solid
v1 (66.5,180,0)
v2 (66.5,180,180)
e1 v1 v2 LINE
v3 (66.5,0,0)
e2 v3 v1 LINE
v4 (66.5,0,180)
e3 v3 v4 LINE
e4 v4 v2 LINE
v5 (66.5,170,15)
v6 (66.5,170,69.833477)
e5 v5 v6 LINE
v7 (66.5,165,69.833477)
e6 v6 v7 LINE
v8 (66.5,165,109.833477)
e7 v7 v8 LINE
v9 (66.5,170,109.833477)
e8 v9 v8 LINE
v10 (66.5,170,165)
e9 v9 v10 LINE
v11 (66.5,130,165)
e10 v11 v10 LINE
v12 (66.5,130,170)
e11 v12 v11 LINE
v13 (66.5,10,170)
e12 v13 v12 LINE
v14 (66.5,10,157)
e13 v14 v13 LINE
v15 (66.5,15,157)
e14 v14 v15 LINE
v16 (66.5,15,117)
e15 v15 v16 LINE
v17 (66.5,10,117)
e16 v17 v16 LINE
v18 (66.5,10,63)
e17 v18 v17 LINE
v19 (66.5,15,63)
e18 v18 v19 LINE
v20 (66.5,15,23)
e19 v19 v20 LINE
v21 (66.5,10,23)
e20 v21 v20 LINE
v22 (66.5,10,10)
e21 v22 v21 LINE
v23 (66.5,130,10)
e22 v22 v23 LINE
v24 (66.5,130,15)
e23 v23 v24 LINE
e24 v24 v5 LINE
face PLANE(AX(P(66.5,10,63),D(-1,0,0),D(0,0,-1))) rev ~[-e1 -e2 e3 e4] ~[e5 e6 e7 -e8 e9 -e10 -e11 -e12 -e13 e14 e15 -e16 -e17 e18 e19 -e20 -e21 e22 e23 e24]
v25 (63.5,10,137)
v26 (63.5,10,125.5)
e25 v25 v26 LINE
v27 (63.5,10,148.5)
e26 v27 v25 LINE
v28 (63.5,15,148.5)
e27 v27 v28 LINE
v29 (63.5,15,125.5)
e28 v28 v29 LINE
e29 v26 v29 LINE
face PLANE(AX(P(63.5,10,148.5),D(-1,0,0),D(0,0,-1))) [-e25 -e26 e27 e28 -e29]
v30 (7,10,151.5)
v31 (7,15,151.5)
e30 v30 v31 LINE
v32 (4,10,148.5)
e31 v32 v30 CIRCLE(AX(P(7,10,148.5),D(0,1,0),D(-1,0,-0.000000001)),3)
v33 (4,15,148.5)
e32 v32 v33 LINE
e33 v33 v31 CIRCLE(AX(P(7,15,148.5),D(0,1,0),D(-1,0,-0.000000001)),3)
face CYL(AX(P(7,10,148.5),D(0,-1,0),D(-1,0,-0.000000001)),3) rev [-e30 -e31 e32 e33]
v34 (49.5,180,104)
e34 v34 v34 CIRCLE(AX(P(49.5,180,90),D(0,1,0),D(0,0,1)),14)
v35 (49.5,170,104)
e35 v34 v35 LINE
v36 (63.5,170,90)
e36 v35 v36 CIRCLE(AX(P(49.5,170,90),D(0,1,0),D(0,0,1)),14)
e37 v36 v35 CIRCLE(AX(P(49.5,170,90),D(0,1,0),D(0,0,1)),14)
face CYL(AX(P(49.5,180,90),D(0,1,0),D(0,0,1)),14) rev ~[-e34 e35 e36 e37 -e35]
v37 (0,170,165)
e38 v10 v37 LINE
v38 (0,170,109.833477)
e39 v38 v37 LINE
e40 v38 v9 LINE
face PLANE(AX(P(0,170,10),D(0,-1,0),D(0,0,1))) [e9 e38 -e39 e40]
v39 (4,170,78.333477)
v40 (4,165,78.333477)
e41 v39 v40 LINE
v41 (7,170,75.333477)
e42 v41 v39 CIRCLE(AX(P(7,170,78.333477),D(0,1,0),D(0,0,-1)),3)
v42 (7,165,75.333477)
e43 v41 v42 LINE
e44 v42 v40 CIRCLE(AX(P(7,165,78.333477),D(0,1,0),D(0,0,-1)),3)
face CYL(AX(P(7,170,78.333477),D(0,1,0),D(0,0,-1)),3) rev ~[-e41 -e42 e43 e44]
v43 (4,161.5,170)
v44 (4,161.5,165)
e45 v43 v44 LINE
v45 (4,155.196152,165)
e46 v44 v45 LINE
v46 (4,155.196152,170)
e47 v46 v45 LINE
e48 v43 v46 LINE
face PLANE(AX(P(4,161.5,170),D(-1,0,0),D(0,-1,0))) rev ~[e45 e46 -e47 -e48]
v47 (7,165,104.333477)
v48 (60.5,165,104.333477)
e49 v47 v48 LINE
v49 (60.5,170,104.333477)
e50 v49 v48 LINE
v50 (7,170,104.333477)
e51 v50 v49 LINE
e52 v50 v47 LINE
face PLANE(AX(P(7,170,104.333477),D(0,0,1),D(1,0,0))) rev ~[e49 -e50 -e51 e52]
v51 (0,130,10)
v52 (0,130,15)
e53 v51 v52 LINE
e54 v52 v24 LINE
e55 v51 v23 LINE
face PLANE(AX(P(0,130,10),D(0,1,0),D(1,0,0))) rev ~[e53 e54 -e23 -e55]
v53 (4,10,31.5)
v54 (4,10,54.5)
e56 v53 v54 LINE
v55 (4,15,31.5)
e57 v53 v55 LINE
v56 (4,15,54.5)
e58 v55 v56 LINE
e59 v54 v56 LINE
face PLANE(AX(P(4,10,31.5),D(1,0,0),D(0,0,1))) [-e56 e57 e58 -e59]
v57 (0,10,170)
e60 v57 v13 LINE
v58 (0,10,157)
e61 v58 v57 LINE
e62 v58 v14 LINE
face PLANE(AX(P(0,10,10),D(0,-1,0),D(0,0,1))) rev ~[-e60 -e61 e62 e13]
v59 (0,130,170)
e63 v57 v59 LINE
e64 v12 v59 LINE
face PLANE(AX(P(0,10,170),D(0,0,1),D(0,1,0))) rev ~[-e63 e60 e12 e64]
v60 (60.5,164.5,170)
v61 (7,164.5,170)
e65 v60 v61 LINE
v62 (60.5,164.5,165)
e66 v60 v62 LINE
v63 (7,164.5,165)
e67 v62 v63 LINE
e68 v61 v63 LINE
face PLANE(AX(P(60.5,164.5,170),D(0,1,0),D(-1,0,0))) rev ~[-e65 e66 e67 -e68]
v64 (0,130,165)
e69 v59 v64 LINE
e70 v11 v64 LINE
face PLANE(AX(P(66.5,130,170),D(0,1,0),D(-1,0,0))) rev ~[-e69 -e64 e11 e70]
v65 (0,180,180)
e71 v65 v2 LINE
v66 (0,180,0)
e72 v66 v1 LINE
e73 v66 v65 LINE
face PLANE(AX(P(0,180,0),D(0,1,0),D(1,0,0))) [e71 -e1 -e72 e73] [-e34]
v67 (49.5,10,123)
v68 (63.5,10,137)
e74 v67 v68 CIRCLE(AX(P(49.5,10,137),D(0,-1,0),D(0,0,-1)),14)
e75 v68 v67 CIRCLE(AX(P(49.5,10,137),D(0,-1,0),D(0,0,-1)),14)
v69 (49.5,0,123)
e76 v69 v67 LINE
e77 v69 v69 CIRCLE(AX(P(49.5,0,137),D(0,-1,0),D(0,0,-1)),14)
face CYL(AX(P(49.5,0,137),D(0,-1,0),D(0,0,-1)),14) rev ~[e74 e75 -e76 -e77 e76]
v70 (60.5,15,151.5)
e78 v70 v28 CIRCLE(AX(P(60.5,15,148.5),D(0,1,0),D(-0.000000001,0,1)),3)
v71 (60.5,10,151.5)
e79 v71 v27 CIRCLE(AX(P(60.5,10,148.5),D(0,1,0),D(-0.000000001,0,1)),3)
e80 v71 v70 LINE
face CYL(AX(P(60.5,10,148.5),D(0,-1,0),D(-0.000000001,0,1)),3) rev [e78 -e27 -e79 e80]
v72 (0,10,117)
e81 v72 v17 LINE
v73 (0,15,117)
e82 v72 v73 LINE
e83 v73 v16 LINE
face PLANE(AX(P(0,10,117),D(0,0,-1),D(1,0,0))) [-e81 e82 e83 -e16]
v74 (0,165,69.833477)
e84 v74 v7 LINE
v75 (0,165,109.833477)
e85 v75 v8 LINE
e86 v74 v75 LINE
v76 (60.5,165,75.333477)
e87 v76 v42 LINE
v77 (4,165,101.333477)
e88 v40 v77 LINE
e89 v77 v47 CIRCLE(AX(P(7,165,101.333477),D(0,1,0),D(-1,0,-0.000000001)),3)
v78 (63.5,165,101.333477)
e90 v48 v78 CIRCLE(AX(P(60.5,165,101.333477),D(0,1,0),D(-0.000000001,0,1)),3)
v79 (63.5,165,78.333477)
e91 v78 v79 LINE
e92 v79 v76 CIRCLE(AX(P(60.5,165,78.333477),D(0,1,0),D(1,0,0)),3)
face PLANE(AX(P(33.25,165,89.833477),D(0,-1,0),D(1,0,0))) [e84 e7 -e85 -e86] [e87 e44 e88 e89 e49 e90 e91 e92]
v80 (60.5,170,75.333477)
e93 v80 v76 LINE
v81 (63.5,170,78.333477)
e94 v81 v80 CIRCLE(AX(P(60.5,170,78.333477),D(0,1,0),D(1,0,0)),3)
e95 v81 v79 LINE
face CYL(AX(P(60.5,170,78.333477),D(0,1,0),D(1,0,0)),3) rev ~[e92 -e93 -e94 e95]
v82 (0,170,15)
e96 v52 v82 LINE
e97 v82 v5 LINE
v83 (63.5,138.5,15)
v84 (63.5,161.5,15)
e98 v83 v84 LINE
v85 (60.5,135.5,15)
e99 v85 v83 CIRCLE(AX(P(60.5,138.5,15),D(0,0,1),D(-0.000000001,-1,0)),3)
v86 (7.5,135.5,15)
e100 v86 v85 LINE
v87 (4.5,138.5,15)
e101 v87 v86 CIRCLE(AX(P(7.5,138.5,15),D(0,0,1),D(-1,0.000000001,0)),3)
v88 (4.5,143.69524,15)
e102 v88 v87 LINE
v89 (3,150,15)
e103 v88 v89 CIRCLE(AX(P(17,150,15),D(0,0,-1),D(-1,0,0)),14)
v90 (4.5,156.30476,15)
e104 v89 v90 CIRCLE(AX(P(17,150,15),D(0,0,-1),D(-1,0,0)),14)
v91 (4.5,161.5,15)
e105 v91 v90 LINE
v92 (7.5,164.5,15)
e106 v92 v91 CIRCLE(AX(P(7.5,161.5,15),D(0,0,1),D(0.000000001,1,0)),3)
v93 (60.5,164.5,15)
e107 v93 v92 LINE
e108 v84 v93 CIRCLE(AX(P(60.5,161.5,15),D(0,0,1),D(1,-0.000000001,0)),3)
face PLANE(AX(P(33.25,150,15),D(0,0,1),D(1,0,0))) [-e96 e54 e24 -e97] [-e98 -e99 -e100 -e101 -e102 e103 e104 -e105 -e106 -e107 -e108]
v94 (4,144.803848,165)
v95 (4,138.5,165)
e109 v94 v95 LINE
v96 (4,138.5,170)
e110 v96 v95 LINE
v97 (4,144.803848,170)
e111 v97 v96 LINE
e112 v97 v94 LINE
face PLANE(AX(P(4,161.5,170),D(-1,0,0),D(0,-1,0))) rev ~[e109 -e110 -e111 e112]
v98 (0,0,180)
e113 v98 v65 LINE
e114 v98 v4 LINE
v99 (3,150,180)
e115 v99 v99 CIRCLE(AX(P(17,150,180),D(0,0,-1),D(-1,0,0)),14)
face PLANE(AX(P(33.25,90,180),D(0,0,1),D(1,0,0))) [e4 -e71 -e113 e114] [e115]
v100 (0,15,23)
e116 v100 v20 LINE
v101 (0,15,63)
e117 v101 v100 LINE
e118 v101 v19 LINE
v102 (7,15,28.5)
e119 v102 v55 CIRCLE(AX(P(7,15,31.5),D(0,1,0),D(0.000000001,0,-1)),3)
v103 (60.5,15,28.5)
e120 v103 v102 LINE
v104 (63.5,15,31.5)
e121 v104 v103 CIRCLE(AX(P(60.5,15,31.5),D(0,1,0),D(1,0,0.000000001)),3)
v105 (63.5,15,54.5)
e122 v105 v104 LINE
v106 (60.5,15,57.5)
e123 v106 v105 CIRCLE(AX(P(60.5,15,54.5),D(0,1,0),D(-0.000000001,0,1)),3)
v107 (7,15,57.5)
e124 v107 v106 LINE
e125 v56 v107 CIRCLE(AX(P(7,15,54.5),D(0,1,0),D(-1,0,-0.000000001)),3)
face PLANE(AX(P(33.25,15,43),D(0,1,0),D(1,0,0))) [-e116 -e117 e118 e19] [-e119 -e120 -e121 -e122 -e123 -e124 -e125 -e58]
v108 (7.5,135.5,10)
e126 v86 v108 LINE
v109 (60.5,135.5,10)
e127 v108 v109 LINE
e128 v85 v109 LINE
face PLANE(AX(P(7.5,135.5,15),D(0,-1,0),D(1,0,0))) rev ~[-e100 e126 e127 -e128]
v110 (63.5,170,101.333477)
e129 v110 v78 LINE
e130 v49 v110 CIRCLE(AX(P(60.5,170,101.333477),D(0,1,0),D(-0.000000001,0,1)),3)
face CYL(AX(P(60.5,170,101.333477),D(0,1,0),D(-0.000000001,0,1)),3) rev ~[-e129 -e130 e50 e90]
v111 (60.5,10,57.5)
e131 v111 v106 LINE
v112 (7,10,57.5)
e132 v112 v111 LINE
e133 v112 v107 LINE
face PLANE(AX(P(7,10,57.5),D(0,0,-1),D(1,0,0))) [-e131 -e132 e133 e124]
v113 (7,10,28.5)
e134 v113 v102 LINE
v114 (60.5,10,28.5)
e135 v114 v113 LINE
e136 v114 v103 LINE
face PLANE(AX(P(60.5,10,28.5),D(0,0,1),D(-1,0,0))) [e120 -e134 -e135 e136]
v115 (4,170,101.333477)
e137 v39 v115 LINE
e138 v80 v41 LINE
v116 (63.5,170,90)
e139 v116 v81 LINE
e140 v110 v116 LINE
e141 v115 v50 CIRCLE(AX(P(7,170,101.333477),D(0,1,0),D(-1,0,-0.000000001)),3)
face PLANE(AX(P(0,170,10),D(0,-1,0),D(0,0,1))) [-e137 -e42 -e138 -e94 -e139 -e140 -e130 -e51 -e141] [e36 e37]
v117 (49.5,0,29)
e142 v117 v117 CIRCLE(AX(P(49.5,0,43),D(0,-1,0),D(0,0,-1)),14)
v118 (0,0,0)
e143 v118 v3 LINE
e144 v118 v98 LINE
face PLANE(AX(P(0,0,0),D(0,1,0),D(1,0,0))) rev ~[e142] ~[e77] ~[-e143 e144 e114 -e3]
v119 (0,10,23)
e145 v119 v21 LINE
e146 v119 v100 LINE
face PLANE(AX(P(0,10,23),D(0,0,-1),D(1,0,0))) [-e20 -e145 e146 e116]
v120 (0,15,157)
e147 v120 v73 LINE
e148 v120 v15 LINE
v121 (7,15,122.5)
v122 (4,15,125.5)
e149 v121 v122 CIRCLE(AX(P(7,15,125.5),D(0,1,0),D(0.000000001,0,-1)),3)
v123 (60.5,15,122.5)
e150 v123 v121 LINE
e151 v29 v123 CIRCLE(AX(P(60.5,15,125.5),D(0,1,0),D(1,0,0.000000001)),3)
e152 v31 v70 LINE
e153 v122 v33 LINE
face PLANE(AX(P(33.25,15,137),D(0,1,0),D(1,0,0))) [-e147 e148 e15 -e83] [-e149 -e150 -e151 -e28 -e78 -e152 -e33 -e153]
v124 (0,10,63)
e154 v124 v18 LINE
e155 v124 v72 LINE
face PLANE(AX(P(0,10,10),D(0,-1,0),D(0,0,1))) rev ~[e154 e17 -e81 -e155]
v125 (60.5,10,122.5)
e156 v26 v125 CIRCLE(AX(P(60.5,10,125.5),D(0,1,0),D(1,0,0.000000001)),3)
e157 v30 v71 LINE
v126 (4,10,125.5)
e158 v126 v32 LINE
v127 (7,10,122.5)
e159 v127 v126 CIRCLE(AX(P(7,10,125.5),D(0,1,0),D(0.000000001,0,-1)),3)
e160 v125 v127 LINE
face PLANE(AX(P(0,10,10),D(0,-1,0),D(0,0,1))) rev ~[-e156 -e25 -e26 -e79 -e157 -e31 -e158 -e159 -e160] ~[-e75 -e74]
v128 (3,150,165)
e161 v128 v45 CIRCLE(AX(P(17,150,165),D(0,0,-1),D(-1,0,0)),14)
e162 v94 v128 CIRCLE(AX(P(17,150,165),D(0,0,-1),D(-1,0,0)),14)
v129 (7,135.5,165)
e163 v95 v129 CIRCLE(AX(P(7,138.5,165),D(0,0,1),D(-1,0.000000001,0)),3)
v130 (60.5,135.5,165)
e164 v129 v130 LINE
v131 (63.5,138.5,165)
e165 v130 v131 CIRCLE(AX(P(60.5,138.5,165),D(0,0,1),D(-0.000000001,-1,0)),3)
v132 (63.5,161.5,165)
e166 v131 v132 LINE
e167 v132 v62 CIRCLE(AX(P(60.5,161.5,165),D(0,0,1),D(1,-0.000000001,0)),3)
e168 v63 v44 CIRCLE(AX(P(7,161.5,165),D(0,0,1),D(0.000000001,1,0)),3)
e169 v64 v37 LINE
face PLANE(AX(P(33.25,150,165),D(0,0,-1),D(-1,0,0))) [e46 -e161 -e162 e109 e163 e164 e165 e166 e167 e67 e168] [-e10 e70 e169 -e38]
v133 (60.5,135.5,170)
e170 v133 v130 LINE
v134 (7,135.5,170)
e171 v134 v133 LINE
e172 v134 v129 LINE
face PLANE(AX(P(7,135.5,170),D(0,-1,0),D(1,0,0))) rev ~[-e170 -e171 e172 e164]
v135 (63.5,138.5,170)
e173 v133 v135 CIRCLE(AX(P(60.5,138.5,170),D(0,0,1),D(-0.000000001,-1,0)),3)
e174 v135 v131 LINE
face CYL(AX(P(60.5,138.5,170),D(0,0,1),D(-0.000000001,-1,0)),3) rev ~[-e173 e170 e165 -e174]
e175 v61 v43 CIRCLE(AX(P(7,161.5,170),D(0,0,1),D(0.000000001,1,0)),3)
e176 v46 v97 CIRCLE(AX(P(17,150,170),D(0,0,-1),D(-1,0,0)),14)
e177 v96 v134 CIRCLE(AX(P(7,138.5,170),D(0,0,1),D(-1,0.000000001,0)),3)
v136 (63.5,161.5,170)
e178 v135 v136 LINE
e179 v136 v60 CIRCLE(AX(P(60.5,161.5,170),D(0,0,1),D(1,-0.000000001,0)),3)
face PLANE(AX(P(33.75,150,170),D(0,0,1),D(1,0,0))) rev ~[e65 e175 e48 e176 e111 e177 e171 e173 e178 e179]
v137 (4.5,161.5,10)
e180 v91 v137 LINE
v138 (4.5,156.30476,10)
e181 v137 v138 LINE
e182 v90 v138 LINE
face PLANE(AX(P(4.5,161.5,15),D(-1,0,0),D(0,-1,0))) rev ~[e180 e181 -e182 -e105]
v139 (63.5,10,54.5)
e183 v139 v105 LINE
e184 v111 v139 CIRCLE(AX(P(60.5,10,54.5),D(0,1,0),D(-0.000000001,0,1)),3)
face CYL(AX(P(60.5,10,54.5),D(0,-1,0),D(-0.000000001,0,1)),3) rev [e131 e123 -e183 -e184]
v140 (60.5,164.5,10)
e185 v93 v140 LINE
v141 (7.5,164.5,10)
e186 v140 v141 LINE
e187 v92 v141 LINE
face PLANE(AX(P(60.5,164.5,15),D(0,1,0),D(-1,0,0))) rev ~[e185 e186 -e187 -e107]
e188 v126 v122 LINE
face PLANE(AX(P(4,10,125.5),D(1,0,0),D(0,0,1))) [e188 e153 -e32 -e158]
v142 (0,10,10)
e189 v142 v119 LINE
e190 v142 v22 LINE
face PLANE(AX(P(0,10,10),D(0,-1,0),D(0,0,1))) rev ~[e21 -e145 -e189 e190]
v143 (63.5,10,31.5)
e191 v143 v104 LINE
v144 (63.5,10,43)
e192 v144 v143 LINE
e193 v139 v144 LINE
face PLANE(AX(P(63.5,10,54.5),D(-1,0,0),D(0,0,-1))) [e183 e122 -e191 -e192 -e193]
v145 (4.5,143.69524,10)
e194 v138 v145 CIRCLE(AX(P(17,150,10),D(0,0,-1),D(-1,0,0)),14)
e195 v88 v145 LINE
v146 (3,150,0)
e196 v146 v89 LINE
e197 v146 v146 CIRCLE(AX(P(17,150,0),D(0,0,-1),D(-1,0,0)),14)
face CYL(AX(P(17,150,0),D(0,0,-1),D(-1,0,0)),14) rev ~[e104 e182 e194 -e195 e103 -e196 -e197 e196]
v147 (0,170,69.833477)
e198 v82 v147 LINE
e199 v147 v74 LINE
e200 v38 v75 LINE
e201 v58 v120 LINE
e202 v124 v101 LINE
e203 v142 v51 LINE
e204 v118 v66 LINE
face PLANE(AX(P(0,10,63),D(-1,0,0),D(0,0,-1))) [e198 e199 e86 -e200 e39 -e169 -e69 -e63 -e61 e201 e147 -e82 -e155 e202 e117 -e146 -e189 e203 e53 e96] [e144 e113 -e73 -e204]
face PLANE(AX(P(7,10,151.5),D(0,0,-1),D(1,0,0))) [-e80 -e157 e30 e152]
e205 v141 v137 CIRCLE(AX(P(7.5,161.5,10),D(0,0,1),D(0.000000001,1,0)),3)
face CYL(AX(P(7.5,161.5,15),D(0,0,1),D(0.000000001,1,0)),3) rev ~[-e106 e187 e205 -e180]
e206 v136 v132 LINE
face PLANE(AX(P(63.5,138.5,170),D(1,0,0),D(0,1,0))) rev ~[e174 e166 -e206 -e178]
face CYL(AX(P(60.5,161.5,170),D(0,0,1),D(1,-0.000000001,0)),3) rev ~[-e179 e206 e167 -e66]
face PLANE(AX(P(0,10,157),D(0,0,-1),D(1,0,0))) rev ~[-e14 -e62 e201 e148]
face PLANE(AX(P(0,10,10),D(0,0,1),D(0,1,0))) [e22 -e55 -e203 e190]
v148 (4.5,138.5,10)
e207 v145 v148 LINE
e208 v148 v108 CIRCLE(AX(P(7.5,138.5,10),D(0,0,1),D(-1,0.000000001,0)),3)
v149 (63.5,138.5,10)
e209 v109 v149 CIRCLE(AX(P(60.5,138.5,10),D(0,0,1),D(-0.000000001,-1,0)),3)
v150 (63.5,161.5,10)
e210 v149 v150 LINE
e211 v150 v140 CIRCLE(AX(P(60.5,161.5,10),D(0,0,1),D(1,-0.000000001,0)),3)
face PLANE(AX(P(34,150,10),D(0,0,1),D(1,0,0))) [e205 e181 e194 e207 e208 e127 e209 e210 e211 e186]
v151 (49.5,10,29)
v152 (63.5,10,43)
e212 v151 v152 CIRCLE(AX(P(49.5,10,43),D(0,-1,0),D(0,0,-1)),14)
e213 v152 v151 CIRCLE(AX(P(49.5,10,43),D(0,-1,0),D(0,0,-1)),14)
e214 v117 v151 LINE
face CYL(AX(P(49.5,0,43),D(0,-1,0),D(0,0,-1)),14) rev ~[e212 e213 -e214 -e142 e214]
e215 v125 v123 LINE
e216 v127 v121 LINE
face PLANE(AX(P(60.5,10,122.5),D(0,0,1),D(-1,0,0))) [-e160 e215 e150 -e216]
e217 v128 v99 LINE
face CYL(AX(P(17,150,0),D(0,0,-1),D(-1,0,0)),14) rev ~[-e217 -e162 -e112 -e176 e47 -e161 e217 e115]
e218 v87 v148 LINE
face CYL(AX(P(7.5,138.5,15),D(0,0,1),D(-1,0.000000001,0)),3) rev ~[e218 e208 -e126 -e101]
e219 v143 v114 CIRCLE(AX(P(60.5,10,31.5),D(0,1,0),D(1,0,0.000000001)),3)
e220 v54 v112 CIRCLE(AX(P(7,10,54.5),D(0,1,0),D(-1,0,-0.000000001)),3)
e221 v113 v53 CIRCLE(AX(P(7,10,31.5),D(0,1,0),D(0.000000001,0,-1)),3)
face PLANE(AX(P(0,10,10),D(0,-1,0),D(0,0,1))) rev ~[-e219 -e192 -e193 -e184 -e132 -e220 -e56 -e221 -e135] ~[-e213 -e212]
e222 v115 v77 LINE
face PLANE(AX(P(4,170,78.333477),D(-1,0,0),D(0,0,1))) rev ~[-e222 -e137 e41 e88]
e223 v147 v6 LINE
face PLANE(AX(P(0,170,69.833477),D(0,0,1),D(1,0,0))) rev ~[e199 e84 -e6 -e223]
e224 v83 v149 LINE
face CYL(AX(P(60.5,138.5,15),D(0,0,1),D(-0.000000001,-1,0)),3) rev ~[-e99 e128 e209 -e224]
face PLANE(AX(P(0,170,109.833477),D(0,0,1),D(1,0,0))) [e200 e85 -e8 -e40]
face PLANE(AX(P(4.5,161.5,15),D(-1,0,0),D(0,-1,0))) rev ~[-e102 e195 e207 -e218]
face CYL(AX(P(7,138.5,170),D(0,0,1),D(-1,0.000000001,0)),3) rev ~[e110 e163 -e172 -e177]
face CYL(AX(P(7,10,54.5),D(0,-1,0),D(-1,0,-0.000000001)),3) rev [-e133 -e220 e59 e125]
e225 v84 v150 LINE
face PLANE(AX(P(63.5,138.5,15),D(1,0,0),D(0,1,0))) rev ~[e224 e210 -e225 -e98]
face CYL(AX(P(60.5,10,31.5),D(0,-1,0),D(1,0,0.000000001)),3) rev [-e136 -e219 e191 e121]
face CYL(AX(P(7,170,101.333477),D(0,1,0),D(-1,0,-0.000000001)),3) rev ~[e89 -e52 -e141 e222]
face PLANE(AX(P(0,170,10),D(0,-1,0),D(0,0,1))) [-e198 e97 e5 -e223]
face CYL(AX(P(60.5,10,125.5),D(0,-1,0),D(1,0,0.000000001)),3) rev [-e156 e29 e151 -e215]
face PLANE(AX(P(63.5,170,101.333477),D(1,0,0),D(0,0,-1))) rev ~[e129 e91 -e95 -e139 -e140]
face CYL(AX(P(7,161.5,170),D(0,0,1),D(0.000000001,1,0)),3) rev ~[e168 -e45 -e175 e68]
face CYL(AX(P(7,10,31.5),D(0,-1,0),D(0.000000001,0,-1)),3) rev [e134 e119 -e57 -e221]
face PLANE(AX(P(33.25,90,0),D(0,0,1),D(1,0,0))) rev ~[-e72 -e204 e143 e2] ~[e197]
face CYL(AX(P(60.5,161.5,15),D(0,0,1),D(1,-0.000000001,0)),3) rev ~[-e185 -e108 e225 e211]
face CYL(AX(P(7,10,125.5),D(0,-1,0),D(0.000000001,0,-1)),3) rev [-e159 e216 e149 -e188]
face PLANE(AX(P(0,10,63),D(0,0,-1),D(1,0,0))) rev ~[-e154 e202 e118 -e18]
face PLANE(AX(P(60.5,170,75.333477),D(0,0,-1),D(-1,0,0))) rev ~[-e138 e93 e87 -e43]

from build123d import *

# Parameters (mm, degrees)
SKETCH1_W                = 66.5
SKETCH1_H                = 180
BOSS_EXTRUDE1_DEPTH      = 180
SKETCH3_W                = 160
SKETCH3_H                = 160
CUT_EXTRUDE1_DEPTH       = 180
SKETCH8_W                = 66.5
SKETCH8_H                = 40
BOSS_EXTRUDE2_DEPTH      = 5
SKETCH10_W               = 66.5
SKETCH10_H               = 40
BOSS_EXTRUDE3_DEPTH      = 5
SKETCH5_R                = 14
CUT_EXTRUDE3_DEPTH       = 10
CUT_EXTRUDE5_DEPTH       = 5
CUT_EXTRUDE6_START       = -5
CUT_EXTRUDE6_DEPTH       = 5
SKETCH12_W               = 66.5
SKETCH12_H               = 40
BOSS_EXTRUDE8_DEPTH      = 5
SKETCH15_R               = 14
CUT_EXTRUDE7_DEPTH       = 200
SKETCH7_R                = 14
CORTE_EXTRUS_O1_DEPTH    = 10
SKETCH13_W               = 66.5
SKETCH13_H               = 40
RESSALTO_EXTRUS_O1_DEPTH = 5


with BuildPart() as part:
    # Sketch1 → Boss-Extrude1 (new body)
    with BuildSketch(Plane.XY):
        with Locations((33.25, 90)):
            Rectangle(SKETCH1_W, SKETCH1_H)
    extrude(amount=BOSS_EXTRUDE1_DEPTH)

    # Sketch3 → Cut-Extrude1 (cut)
    with BuildSketch(Plane.ZY):
        with Locations((90, 90)):
            Rectangle(SKETCH3_W, SKETCH3_H)
    extrude(amount=-CUT_EXTRUDE1_DEPTH, mode=Mode.SUBTRACT)

    # Sketch8 → Boss-Extrude2 (add)
    with BuildSketch(Plane.XY.offset(10)):
        with Locations((33.25, 150)):
            Rectangle(SKETCH8_W, SKETCH8_H)
    extrude(amount=BOSS_EXTRUDE2_DEPTH)

    # Sketch10 → Boss-Extrude3 (add)
    with BuildSketch(Plane(origin=(0, 0, 170), x_dir=(-1, 0, 0), z_dir=(0, 0, -1))):
        with Locations((-33.25, 150)):
            Rectangle(SKETCH10_W, SKETCH10_H)
    extrude(amount=BOSS_EXTRUDE3_DEPTH)

    # Sketch5 → Cut-Extrude3 (cut)
    with BuildSketch(Plane(origin=(0, 180, 0), x_dir=(1, 0, 0), z_dir=(0, 1, 0))):
        with Locations(Location((49.5, -90, 0), (0, 0, 270))):
            Circle(SKETCH5_R)
    extrude(amount=-CUT_EXTRUDE3_DEPTH, mode=Mode.SUBTRACT)

    # Sketch9 → Cut-Extrude5 (cut)
    with BuildSketch(Plane.XY.offset(15)):
        with BuildLine():
            Line((60.5, 164.5), (7.5, 164.5))
            ThreePointArc((7.5, 164.5), (5.378679656, 163.621320344), (4.5, 161.5))
            Line((4.5, 161.5), (4.5, 138.5))
            ThreePointArc((4.5, 138.5), (5.378679656, 136.378679656), (7.5, 135.5))
            Line((7.5, 135.5), (60.5, 135.5))
            ThreePointArc((60.5, 135.5), (62.621320344, 136.378679656), (63.5, 138.5))
            Line((63.5, 138.5), (63.5, 161.5))
            ThreePointArc((63.5, 161.5), (62.621320344, 163.621320344), (60.5, 164.5))
        make_face()
    extrude(amount=-CUT_EXTRUDE5_DEPTH, mode=Mode.SUBTRACT)

    # Sketch11 → Cut-Extrude6 (cut)
    with BuildSketch(Plane(origin=(0, 0, 165), x_dir=(-1, 0, 0), z_dir=(0, 0, -1)).offset(CUT_EXTRUDE6_START)):
        with BuildLine():
            Line((-60.5, 164.5), (-7, 164.5))
            ThreePointArc((-7, 164.5), (-4.878679656, 163.621320344), (-4, 161.5))
            Line((-4, 161.5), (-4, 138.5))
            ThreePointArc((-4, 138.5), (-4.878679656, 136.378679656), (-7, 135.5))
            Line((-7, 135.5), (-60.5, 135.5))
            ThreePointArc((-60.5, 135.5), (-62.621320344, 136.378679656), (-63.5, 138.5))
            Line((-63.5, 138.5), (-63.5, 161.5))
            ThreePointArc((-63.5, 161.5), (-62.621320344, 163.621320344), (-60.5, 164.5))
        make_face()
    extrude(amount=CUT_EXTRUDE6_DEPTH, mode=Mode.SUBTRACT)

    # Sketch12 → Boss-Extrude8 (add)
    with BuildSketch(Plane.XZ.offset(-170)):
        with Locations((33.25, 89.833476808)):
            Rectangle(SKETCH12_W, SKETCH12_H)
        with BuildLine():
            Line((60.5, 75.333476808), (7, 75.333476808))
            ThreePointArc((7, 75.333476808), (4.878679656, 76.212156465), (4, 78.333476808))
            Line((4, 78.333476808), (4, 101.333476808))
            ThreePointArc((4, 101.333476808), (4.878679656, 103.454797152), (7, 104.333476808))
            Line((7, 104.333476808), (60.5, 104.333476808))
            ThreePointArc((60.5, 104.333476808), (62.621320344, 103.454797152), (63.5, 101.333476808))
            Line((63.5, 101.333476808), (63.5, 78.333476808))
            ThreePointArc((63.5, 78.333476808), (62.621320344, 76.212156465), (60.5, 75.333476808))
        make_face(mode=Mode.SUBTRACT)
    extrude(amount=BOSS_EXTRUDE8_DEPTH)

    # Sketch15 → Cut-Extrude7 (cut)
    with BuildSketch(Plane(origin=(0, 0, 0), x_dir=(-1, 0, 0), z_dir=(0, 0, -1))):
        with Locations((-17, 150)):
            Circle(SKETCH15_R)
    extrude(amount=-CUT_EXTRUDE7_DEPTH, mode=Mode.SUBTRACT)

    # Sketch7 → Corte-extrusão1 (cut)
    with BuildSketch(Plane.XZ):
        with Locations(Location((49.5, 43, 0), (0, 0, 270))):
            Circle(SKETCH7_R)
        with Locations(Location((49.5, 137, 0), (0, 0, 270))):
            Circle(SKETCH7_R)
    extrude(amount=-CORTE_EXTRUS_O1_DEPTH, mode=Mode.SUBTRACT)

    # Sketch13 → Ressalto-extrusão1 (add)
    # profile 1 of 2: a face of its own
    with BuildSketch(Plane(origin=(0, 10, 0), x_dir=(1, 0, 0), z_dir=(0, 1, 0))):
        with Locations((33.25, -43)):
            Rectangle(SKETCH13_W, SKETCH13_H)
        with BuildLine():
            Line((7, -57.5), (60.5, -57.5))
            ThreePointArc((60.5, -57.5), (62.621320344, -56.621320344), (63.5, -54.5))
            Line((63.5, -54.5), (63.5, -31.5))
            ThreePointArc((63.5, -31.5), (62.621320344, -29.378679656), (60.5, -28.5))
            Line((60.5, -28.5), (7, -28.5))
            ThreePointArc((7, -28.5), (4.878679656, -29.378679656), (4, -31.5))
            Line((4, -31.5), (4, -54.5))
            ThreePointArc((4, -54.5), (4.878679656, -56.621320344), (7, -57.5))
        make_face(mode=Mode.SUBTRACT)
    # profile 2 of 2: a face of its own
    with BuildSketch(Plane(origin=(0, 10, 0), x_dir=(1, 0, 0), z_dir=(0, 1, 0))):
        with Locations((33.25, -137)):
            Rectangle(SKETCH13_W, SKETCH13_H)
        with BuildLine():
            Line((7, -151.5), (60.5, -151.5))
            ThreePointArc((60.5, -151.5), (62.621320344, -150.621320344), (63.5, -148.5))
            Line((63.5, -148.5), (63.5, -125.5))
            ThreePointArc((63.5, -125.5), (62.621320344, -123.378679656), (60.5, -122.5))
            Line((60.5, -122.5), (7, -122.5))
            ThreePointArc((7, -122.5), (4.878679656, -123.378679656), (4, -125.5))
            Line((4, -125.5), (4, -148.5))
            ThreePointArc((4, -148.5), (4.878679656, -150.621320344), (7, -151.5))
        make_face(mode=Mode.SUBTRACT)
    extrude(amount=RESSALTO_EXTRUS_O1_DEPTH)


solid = part.part
